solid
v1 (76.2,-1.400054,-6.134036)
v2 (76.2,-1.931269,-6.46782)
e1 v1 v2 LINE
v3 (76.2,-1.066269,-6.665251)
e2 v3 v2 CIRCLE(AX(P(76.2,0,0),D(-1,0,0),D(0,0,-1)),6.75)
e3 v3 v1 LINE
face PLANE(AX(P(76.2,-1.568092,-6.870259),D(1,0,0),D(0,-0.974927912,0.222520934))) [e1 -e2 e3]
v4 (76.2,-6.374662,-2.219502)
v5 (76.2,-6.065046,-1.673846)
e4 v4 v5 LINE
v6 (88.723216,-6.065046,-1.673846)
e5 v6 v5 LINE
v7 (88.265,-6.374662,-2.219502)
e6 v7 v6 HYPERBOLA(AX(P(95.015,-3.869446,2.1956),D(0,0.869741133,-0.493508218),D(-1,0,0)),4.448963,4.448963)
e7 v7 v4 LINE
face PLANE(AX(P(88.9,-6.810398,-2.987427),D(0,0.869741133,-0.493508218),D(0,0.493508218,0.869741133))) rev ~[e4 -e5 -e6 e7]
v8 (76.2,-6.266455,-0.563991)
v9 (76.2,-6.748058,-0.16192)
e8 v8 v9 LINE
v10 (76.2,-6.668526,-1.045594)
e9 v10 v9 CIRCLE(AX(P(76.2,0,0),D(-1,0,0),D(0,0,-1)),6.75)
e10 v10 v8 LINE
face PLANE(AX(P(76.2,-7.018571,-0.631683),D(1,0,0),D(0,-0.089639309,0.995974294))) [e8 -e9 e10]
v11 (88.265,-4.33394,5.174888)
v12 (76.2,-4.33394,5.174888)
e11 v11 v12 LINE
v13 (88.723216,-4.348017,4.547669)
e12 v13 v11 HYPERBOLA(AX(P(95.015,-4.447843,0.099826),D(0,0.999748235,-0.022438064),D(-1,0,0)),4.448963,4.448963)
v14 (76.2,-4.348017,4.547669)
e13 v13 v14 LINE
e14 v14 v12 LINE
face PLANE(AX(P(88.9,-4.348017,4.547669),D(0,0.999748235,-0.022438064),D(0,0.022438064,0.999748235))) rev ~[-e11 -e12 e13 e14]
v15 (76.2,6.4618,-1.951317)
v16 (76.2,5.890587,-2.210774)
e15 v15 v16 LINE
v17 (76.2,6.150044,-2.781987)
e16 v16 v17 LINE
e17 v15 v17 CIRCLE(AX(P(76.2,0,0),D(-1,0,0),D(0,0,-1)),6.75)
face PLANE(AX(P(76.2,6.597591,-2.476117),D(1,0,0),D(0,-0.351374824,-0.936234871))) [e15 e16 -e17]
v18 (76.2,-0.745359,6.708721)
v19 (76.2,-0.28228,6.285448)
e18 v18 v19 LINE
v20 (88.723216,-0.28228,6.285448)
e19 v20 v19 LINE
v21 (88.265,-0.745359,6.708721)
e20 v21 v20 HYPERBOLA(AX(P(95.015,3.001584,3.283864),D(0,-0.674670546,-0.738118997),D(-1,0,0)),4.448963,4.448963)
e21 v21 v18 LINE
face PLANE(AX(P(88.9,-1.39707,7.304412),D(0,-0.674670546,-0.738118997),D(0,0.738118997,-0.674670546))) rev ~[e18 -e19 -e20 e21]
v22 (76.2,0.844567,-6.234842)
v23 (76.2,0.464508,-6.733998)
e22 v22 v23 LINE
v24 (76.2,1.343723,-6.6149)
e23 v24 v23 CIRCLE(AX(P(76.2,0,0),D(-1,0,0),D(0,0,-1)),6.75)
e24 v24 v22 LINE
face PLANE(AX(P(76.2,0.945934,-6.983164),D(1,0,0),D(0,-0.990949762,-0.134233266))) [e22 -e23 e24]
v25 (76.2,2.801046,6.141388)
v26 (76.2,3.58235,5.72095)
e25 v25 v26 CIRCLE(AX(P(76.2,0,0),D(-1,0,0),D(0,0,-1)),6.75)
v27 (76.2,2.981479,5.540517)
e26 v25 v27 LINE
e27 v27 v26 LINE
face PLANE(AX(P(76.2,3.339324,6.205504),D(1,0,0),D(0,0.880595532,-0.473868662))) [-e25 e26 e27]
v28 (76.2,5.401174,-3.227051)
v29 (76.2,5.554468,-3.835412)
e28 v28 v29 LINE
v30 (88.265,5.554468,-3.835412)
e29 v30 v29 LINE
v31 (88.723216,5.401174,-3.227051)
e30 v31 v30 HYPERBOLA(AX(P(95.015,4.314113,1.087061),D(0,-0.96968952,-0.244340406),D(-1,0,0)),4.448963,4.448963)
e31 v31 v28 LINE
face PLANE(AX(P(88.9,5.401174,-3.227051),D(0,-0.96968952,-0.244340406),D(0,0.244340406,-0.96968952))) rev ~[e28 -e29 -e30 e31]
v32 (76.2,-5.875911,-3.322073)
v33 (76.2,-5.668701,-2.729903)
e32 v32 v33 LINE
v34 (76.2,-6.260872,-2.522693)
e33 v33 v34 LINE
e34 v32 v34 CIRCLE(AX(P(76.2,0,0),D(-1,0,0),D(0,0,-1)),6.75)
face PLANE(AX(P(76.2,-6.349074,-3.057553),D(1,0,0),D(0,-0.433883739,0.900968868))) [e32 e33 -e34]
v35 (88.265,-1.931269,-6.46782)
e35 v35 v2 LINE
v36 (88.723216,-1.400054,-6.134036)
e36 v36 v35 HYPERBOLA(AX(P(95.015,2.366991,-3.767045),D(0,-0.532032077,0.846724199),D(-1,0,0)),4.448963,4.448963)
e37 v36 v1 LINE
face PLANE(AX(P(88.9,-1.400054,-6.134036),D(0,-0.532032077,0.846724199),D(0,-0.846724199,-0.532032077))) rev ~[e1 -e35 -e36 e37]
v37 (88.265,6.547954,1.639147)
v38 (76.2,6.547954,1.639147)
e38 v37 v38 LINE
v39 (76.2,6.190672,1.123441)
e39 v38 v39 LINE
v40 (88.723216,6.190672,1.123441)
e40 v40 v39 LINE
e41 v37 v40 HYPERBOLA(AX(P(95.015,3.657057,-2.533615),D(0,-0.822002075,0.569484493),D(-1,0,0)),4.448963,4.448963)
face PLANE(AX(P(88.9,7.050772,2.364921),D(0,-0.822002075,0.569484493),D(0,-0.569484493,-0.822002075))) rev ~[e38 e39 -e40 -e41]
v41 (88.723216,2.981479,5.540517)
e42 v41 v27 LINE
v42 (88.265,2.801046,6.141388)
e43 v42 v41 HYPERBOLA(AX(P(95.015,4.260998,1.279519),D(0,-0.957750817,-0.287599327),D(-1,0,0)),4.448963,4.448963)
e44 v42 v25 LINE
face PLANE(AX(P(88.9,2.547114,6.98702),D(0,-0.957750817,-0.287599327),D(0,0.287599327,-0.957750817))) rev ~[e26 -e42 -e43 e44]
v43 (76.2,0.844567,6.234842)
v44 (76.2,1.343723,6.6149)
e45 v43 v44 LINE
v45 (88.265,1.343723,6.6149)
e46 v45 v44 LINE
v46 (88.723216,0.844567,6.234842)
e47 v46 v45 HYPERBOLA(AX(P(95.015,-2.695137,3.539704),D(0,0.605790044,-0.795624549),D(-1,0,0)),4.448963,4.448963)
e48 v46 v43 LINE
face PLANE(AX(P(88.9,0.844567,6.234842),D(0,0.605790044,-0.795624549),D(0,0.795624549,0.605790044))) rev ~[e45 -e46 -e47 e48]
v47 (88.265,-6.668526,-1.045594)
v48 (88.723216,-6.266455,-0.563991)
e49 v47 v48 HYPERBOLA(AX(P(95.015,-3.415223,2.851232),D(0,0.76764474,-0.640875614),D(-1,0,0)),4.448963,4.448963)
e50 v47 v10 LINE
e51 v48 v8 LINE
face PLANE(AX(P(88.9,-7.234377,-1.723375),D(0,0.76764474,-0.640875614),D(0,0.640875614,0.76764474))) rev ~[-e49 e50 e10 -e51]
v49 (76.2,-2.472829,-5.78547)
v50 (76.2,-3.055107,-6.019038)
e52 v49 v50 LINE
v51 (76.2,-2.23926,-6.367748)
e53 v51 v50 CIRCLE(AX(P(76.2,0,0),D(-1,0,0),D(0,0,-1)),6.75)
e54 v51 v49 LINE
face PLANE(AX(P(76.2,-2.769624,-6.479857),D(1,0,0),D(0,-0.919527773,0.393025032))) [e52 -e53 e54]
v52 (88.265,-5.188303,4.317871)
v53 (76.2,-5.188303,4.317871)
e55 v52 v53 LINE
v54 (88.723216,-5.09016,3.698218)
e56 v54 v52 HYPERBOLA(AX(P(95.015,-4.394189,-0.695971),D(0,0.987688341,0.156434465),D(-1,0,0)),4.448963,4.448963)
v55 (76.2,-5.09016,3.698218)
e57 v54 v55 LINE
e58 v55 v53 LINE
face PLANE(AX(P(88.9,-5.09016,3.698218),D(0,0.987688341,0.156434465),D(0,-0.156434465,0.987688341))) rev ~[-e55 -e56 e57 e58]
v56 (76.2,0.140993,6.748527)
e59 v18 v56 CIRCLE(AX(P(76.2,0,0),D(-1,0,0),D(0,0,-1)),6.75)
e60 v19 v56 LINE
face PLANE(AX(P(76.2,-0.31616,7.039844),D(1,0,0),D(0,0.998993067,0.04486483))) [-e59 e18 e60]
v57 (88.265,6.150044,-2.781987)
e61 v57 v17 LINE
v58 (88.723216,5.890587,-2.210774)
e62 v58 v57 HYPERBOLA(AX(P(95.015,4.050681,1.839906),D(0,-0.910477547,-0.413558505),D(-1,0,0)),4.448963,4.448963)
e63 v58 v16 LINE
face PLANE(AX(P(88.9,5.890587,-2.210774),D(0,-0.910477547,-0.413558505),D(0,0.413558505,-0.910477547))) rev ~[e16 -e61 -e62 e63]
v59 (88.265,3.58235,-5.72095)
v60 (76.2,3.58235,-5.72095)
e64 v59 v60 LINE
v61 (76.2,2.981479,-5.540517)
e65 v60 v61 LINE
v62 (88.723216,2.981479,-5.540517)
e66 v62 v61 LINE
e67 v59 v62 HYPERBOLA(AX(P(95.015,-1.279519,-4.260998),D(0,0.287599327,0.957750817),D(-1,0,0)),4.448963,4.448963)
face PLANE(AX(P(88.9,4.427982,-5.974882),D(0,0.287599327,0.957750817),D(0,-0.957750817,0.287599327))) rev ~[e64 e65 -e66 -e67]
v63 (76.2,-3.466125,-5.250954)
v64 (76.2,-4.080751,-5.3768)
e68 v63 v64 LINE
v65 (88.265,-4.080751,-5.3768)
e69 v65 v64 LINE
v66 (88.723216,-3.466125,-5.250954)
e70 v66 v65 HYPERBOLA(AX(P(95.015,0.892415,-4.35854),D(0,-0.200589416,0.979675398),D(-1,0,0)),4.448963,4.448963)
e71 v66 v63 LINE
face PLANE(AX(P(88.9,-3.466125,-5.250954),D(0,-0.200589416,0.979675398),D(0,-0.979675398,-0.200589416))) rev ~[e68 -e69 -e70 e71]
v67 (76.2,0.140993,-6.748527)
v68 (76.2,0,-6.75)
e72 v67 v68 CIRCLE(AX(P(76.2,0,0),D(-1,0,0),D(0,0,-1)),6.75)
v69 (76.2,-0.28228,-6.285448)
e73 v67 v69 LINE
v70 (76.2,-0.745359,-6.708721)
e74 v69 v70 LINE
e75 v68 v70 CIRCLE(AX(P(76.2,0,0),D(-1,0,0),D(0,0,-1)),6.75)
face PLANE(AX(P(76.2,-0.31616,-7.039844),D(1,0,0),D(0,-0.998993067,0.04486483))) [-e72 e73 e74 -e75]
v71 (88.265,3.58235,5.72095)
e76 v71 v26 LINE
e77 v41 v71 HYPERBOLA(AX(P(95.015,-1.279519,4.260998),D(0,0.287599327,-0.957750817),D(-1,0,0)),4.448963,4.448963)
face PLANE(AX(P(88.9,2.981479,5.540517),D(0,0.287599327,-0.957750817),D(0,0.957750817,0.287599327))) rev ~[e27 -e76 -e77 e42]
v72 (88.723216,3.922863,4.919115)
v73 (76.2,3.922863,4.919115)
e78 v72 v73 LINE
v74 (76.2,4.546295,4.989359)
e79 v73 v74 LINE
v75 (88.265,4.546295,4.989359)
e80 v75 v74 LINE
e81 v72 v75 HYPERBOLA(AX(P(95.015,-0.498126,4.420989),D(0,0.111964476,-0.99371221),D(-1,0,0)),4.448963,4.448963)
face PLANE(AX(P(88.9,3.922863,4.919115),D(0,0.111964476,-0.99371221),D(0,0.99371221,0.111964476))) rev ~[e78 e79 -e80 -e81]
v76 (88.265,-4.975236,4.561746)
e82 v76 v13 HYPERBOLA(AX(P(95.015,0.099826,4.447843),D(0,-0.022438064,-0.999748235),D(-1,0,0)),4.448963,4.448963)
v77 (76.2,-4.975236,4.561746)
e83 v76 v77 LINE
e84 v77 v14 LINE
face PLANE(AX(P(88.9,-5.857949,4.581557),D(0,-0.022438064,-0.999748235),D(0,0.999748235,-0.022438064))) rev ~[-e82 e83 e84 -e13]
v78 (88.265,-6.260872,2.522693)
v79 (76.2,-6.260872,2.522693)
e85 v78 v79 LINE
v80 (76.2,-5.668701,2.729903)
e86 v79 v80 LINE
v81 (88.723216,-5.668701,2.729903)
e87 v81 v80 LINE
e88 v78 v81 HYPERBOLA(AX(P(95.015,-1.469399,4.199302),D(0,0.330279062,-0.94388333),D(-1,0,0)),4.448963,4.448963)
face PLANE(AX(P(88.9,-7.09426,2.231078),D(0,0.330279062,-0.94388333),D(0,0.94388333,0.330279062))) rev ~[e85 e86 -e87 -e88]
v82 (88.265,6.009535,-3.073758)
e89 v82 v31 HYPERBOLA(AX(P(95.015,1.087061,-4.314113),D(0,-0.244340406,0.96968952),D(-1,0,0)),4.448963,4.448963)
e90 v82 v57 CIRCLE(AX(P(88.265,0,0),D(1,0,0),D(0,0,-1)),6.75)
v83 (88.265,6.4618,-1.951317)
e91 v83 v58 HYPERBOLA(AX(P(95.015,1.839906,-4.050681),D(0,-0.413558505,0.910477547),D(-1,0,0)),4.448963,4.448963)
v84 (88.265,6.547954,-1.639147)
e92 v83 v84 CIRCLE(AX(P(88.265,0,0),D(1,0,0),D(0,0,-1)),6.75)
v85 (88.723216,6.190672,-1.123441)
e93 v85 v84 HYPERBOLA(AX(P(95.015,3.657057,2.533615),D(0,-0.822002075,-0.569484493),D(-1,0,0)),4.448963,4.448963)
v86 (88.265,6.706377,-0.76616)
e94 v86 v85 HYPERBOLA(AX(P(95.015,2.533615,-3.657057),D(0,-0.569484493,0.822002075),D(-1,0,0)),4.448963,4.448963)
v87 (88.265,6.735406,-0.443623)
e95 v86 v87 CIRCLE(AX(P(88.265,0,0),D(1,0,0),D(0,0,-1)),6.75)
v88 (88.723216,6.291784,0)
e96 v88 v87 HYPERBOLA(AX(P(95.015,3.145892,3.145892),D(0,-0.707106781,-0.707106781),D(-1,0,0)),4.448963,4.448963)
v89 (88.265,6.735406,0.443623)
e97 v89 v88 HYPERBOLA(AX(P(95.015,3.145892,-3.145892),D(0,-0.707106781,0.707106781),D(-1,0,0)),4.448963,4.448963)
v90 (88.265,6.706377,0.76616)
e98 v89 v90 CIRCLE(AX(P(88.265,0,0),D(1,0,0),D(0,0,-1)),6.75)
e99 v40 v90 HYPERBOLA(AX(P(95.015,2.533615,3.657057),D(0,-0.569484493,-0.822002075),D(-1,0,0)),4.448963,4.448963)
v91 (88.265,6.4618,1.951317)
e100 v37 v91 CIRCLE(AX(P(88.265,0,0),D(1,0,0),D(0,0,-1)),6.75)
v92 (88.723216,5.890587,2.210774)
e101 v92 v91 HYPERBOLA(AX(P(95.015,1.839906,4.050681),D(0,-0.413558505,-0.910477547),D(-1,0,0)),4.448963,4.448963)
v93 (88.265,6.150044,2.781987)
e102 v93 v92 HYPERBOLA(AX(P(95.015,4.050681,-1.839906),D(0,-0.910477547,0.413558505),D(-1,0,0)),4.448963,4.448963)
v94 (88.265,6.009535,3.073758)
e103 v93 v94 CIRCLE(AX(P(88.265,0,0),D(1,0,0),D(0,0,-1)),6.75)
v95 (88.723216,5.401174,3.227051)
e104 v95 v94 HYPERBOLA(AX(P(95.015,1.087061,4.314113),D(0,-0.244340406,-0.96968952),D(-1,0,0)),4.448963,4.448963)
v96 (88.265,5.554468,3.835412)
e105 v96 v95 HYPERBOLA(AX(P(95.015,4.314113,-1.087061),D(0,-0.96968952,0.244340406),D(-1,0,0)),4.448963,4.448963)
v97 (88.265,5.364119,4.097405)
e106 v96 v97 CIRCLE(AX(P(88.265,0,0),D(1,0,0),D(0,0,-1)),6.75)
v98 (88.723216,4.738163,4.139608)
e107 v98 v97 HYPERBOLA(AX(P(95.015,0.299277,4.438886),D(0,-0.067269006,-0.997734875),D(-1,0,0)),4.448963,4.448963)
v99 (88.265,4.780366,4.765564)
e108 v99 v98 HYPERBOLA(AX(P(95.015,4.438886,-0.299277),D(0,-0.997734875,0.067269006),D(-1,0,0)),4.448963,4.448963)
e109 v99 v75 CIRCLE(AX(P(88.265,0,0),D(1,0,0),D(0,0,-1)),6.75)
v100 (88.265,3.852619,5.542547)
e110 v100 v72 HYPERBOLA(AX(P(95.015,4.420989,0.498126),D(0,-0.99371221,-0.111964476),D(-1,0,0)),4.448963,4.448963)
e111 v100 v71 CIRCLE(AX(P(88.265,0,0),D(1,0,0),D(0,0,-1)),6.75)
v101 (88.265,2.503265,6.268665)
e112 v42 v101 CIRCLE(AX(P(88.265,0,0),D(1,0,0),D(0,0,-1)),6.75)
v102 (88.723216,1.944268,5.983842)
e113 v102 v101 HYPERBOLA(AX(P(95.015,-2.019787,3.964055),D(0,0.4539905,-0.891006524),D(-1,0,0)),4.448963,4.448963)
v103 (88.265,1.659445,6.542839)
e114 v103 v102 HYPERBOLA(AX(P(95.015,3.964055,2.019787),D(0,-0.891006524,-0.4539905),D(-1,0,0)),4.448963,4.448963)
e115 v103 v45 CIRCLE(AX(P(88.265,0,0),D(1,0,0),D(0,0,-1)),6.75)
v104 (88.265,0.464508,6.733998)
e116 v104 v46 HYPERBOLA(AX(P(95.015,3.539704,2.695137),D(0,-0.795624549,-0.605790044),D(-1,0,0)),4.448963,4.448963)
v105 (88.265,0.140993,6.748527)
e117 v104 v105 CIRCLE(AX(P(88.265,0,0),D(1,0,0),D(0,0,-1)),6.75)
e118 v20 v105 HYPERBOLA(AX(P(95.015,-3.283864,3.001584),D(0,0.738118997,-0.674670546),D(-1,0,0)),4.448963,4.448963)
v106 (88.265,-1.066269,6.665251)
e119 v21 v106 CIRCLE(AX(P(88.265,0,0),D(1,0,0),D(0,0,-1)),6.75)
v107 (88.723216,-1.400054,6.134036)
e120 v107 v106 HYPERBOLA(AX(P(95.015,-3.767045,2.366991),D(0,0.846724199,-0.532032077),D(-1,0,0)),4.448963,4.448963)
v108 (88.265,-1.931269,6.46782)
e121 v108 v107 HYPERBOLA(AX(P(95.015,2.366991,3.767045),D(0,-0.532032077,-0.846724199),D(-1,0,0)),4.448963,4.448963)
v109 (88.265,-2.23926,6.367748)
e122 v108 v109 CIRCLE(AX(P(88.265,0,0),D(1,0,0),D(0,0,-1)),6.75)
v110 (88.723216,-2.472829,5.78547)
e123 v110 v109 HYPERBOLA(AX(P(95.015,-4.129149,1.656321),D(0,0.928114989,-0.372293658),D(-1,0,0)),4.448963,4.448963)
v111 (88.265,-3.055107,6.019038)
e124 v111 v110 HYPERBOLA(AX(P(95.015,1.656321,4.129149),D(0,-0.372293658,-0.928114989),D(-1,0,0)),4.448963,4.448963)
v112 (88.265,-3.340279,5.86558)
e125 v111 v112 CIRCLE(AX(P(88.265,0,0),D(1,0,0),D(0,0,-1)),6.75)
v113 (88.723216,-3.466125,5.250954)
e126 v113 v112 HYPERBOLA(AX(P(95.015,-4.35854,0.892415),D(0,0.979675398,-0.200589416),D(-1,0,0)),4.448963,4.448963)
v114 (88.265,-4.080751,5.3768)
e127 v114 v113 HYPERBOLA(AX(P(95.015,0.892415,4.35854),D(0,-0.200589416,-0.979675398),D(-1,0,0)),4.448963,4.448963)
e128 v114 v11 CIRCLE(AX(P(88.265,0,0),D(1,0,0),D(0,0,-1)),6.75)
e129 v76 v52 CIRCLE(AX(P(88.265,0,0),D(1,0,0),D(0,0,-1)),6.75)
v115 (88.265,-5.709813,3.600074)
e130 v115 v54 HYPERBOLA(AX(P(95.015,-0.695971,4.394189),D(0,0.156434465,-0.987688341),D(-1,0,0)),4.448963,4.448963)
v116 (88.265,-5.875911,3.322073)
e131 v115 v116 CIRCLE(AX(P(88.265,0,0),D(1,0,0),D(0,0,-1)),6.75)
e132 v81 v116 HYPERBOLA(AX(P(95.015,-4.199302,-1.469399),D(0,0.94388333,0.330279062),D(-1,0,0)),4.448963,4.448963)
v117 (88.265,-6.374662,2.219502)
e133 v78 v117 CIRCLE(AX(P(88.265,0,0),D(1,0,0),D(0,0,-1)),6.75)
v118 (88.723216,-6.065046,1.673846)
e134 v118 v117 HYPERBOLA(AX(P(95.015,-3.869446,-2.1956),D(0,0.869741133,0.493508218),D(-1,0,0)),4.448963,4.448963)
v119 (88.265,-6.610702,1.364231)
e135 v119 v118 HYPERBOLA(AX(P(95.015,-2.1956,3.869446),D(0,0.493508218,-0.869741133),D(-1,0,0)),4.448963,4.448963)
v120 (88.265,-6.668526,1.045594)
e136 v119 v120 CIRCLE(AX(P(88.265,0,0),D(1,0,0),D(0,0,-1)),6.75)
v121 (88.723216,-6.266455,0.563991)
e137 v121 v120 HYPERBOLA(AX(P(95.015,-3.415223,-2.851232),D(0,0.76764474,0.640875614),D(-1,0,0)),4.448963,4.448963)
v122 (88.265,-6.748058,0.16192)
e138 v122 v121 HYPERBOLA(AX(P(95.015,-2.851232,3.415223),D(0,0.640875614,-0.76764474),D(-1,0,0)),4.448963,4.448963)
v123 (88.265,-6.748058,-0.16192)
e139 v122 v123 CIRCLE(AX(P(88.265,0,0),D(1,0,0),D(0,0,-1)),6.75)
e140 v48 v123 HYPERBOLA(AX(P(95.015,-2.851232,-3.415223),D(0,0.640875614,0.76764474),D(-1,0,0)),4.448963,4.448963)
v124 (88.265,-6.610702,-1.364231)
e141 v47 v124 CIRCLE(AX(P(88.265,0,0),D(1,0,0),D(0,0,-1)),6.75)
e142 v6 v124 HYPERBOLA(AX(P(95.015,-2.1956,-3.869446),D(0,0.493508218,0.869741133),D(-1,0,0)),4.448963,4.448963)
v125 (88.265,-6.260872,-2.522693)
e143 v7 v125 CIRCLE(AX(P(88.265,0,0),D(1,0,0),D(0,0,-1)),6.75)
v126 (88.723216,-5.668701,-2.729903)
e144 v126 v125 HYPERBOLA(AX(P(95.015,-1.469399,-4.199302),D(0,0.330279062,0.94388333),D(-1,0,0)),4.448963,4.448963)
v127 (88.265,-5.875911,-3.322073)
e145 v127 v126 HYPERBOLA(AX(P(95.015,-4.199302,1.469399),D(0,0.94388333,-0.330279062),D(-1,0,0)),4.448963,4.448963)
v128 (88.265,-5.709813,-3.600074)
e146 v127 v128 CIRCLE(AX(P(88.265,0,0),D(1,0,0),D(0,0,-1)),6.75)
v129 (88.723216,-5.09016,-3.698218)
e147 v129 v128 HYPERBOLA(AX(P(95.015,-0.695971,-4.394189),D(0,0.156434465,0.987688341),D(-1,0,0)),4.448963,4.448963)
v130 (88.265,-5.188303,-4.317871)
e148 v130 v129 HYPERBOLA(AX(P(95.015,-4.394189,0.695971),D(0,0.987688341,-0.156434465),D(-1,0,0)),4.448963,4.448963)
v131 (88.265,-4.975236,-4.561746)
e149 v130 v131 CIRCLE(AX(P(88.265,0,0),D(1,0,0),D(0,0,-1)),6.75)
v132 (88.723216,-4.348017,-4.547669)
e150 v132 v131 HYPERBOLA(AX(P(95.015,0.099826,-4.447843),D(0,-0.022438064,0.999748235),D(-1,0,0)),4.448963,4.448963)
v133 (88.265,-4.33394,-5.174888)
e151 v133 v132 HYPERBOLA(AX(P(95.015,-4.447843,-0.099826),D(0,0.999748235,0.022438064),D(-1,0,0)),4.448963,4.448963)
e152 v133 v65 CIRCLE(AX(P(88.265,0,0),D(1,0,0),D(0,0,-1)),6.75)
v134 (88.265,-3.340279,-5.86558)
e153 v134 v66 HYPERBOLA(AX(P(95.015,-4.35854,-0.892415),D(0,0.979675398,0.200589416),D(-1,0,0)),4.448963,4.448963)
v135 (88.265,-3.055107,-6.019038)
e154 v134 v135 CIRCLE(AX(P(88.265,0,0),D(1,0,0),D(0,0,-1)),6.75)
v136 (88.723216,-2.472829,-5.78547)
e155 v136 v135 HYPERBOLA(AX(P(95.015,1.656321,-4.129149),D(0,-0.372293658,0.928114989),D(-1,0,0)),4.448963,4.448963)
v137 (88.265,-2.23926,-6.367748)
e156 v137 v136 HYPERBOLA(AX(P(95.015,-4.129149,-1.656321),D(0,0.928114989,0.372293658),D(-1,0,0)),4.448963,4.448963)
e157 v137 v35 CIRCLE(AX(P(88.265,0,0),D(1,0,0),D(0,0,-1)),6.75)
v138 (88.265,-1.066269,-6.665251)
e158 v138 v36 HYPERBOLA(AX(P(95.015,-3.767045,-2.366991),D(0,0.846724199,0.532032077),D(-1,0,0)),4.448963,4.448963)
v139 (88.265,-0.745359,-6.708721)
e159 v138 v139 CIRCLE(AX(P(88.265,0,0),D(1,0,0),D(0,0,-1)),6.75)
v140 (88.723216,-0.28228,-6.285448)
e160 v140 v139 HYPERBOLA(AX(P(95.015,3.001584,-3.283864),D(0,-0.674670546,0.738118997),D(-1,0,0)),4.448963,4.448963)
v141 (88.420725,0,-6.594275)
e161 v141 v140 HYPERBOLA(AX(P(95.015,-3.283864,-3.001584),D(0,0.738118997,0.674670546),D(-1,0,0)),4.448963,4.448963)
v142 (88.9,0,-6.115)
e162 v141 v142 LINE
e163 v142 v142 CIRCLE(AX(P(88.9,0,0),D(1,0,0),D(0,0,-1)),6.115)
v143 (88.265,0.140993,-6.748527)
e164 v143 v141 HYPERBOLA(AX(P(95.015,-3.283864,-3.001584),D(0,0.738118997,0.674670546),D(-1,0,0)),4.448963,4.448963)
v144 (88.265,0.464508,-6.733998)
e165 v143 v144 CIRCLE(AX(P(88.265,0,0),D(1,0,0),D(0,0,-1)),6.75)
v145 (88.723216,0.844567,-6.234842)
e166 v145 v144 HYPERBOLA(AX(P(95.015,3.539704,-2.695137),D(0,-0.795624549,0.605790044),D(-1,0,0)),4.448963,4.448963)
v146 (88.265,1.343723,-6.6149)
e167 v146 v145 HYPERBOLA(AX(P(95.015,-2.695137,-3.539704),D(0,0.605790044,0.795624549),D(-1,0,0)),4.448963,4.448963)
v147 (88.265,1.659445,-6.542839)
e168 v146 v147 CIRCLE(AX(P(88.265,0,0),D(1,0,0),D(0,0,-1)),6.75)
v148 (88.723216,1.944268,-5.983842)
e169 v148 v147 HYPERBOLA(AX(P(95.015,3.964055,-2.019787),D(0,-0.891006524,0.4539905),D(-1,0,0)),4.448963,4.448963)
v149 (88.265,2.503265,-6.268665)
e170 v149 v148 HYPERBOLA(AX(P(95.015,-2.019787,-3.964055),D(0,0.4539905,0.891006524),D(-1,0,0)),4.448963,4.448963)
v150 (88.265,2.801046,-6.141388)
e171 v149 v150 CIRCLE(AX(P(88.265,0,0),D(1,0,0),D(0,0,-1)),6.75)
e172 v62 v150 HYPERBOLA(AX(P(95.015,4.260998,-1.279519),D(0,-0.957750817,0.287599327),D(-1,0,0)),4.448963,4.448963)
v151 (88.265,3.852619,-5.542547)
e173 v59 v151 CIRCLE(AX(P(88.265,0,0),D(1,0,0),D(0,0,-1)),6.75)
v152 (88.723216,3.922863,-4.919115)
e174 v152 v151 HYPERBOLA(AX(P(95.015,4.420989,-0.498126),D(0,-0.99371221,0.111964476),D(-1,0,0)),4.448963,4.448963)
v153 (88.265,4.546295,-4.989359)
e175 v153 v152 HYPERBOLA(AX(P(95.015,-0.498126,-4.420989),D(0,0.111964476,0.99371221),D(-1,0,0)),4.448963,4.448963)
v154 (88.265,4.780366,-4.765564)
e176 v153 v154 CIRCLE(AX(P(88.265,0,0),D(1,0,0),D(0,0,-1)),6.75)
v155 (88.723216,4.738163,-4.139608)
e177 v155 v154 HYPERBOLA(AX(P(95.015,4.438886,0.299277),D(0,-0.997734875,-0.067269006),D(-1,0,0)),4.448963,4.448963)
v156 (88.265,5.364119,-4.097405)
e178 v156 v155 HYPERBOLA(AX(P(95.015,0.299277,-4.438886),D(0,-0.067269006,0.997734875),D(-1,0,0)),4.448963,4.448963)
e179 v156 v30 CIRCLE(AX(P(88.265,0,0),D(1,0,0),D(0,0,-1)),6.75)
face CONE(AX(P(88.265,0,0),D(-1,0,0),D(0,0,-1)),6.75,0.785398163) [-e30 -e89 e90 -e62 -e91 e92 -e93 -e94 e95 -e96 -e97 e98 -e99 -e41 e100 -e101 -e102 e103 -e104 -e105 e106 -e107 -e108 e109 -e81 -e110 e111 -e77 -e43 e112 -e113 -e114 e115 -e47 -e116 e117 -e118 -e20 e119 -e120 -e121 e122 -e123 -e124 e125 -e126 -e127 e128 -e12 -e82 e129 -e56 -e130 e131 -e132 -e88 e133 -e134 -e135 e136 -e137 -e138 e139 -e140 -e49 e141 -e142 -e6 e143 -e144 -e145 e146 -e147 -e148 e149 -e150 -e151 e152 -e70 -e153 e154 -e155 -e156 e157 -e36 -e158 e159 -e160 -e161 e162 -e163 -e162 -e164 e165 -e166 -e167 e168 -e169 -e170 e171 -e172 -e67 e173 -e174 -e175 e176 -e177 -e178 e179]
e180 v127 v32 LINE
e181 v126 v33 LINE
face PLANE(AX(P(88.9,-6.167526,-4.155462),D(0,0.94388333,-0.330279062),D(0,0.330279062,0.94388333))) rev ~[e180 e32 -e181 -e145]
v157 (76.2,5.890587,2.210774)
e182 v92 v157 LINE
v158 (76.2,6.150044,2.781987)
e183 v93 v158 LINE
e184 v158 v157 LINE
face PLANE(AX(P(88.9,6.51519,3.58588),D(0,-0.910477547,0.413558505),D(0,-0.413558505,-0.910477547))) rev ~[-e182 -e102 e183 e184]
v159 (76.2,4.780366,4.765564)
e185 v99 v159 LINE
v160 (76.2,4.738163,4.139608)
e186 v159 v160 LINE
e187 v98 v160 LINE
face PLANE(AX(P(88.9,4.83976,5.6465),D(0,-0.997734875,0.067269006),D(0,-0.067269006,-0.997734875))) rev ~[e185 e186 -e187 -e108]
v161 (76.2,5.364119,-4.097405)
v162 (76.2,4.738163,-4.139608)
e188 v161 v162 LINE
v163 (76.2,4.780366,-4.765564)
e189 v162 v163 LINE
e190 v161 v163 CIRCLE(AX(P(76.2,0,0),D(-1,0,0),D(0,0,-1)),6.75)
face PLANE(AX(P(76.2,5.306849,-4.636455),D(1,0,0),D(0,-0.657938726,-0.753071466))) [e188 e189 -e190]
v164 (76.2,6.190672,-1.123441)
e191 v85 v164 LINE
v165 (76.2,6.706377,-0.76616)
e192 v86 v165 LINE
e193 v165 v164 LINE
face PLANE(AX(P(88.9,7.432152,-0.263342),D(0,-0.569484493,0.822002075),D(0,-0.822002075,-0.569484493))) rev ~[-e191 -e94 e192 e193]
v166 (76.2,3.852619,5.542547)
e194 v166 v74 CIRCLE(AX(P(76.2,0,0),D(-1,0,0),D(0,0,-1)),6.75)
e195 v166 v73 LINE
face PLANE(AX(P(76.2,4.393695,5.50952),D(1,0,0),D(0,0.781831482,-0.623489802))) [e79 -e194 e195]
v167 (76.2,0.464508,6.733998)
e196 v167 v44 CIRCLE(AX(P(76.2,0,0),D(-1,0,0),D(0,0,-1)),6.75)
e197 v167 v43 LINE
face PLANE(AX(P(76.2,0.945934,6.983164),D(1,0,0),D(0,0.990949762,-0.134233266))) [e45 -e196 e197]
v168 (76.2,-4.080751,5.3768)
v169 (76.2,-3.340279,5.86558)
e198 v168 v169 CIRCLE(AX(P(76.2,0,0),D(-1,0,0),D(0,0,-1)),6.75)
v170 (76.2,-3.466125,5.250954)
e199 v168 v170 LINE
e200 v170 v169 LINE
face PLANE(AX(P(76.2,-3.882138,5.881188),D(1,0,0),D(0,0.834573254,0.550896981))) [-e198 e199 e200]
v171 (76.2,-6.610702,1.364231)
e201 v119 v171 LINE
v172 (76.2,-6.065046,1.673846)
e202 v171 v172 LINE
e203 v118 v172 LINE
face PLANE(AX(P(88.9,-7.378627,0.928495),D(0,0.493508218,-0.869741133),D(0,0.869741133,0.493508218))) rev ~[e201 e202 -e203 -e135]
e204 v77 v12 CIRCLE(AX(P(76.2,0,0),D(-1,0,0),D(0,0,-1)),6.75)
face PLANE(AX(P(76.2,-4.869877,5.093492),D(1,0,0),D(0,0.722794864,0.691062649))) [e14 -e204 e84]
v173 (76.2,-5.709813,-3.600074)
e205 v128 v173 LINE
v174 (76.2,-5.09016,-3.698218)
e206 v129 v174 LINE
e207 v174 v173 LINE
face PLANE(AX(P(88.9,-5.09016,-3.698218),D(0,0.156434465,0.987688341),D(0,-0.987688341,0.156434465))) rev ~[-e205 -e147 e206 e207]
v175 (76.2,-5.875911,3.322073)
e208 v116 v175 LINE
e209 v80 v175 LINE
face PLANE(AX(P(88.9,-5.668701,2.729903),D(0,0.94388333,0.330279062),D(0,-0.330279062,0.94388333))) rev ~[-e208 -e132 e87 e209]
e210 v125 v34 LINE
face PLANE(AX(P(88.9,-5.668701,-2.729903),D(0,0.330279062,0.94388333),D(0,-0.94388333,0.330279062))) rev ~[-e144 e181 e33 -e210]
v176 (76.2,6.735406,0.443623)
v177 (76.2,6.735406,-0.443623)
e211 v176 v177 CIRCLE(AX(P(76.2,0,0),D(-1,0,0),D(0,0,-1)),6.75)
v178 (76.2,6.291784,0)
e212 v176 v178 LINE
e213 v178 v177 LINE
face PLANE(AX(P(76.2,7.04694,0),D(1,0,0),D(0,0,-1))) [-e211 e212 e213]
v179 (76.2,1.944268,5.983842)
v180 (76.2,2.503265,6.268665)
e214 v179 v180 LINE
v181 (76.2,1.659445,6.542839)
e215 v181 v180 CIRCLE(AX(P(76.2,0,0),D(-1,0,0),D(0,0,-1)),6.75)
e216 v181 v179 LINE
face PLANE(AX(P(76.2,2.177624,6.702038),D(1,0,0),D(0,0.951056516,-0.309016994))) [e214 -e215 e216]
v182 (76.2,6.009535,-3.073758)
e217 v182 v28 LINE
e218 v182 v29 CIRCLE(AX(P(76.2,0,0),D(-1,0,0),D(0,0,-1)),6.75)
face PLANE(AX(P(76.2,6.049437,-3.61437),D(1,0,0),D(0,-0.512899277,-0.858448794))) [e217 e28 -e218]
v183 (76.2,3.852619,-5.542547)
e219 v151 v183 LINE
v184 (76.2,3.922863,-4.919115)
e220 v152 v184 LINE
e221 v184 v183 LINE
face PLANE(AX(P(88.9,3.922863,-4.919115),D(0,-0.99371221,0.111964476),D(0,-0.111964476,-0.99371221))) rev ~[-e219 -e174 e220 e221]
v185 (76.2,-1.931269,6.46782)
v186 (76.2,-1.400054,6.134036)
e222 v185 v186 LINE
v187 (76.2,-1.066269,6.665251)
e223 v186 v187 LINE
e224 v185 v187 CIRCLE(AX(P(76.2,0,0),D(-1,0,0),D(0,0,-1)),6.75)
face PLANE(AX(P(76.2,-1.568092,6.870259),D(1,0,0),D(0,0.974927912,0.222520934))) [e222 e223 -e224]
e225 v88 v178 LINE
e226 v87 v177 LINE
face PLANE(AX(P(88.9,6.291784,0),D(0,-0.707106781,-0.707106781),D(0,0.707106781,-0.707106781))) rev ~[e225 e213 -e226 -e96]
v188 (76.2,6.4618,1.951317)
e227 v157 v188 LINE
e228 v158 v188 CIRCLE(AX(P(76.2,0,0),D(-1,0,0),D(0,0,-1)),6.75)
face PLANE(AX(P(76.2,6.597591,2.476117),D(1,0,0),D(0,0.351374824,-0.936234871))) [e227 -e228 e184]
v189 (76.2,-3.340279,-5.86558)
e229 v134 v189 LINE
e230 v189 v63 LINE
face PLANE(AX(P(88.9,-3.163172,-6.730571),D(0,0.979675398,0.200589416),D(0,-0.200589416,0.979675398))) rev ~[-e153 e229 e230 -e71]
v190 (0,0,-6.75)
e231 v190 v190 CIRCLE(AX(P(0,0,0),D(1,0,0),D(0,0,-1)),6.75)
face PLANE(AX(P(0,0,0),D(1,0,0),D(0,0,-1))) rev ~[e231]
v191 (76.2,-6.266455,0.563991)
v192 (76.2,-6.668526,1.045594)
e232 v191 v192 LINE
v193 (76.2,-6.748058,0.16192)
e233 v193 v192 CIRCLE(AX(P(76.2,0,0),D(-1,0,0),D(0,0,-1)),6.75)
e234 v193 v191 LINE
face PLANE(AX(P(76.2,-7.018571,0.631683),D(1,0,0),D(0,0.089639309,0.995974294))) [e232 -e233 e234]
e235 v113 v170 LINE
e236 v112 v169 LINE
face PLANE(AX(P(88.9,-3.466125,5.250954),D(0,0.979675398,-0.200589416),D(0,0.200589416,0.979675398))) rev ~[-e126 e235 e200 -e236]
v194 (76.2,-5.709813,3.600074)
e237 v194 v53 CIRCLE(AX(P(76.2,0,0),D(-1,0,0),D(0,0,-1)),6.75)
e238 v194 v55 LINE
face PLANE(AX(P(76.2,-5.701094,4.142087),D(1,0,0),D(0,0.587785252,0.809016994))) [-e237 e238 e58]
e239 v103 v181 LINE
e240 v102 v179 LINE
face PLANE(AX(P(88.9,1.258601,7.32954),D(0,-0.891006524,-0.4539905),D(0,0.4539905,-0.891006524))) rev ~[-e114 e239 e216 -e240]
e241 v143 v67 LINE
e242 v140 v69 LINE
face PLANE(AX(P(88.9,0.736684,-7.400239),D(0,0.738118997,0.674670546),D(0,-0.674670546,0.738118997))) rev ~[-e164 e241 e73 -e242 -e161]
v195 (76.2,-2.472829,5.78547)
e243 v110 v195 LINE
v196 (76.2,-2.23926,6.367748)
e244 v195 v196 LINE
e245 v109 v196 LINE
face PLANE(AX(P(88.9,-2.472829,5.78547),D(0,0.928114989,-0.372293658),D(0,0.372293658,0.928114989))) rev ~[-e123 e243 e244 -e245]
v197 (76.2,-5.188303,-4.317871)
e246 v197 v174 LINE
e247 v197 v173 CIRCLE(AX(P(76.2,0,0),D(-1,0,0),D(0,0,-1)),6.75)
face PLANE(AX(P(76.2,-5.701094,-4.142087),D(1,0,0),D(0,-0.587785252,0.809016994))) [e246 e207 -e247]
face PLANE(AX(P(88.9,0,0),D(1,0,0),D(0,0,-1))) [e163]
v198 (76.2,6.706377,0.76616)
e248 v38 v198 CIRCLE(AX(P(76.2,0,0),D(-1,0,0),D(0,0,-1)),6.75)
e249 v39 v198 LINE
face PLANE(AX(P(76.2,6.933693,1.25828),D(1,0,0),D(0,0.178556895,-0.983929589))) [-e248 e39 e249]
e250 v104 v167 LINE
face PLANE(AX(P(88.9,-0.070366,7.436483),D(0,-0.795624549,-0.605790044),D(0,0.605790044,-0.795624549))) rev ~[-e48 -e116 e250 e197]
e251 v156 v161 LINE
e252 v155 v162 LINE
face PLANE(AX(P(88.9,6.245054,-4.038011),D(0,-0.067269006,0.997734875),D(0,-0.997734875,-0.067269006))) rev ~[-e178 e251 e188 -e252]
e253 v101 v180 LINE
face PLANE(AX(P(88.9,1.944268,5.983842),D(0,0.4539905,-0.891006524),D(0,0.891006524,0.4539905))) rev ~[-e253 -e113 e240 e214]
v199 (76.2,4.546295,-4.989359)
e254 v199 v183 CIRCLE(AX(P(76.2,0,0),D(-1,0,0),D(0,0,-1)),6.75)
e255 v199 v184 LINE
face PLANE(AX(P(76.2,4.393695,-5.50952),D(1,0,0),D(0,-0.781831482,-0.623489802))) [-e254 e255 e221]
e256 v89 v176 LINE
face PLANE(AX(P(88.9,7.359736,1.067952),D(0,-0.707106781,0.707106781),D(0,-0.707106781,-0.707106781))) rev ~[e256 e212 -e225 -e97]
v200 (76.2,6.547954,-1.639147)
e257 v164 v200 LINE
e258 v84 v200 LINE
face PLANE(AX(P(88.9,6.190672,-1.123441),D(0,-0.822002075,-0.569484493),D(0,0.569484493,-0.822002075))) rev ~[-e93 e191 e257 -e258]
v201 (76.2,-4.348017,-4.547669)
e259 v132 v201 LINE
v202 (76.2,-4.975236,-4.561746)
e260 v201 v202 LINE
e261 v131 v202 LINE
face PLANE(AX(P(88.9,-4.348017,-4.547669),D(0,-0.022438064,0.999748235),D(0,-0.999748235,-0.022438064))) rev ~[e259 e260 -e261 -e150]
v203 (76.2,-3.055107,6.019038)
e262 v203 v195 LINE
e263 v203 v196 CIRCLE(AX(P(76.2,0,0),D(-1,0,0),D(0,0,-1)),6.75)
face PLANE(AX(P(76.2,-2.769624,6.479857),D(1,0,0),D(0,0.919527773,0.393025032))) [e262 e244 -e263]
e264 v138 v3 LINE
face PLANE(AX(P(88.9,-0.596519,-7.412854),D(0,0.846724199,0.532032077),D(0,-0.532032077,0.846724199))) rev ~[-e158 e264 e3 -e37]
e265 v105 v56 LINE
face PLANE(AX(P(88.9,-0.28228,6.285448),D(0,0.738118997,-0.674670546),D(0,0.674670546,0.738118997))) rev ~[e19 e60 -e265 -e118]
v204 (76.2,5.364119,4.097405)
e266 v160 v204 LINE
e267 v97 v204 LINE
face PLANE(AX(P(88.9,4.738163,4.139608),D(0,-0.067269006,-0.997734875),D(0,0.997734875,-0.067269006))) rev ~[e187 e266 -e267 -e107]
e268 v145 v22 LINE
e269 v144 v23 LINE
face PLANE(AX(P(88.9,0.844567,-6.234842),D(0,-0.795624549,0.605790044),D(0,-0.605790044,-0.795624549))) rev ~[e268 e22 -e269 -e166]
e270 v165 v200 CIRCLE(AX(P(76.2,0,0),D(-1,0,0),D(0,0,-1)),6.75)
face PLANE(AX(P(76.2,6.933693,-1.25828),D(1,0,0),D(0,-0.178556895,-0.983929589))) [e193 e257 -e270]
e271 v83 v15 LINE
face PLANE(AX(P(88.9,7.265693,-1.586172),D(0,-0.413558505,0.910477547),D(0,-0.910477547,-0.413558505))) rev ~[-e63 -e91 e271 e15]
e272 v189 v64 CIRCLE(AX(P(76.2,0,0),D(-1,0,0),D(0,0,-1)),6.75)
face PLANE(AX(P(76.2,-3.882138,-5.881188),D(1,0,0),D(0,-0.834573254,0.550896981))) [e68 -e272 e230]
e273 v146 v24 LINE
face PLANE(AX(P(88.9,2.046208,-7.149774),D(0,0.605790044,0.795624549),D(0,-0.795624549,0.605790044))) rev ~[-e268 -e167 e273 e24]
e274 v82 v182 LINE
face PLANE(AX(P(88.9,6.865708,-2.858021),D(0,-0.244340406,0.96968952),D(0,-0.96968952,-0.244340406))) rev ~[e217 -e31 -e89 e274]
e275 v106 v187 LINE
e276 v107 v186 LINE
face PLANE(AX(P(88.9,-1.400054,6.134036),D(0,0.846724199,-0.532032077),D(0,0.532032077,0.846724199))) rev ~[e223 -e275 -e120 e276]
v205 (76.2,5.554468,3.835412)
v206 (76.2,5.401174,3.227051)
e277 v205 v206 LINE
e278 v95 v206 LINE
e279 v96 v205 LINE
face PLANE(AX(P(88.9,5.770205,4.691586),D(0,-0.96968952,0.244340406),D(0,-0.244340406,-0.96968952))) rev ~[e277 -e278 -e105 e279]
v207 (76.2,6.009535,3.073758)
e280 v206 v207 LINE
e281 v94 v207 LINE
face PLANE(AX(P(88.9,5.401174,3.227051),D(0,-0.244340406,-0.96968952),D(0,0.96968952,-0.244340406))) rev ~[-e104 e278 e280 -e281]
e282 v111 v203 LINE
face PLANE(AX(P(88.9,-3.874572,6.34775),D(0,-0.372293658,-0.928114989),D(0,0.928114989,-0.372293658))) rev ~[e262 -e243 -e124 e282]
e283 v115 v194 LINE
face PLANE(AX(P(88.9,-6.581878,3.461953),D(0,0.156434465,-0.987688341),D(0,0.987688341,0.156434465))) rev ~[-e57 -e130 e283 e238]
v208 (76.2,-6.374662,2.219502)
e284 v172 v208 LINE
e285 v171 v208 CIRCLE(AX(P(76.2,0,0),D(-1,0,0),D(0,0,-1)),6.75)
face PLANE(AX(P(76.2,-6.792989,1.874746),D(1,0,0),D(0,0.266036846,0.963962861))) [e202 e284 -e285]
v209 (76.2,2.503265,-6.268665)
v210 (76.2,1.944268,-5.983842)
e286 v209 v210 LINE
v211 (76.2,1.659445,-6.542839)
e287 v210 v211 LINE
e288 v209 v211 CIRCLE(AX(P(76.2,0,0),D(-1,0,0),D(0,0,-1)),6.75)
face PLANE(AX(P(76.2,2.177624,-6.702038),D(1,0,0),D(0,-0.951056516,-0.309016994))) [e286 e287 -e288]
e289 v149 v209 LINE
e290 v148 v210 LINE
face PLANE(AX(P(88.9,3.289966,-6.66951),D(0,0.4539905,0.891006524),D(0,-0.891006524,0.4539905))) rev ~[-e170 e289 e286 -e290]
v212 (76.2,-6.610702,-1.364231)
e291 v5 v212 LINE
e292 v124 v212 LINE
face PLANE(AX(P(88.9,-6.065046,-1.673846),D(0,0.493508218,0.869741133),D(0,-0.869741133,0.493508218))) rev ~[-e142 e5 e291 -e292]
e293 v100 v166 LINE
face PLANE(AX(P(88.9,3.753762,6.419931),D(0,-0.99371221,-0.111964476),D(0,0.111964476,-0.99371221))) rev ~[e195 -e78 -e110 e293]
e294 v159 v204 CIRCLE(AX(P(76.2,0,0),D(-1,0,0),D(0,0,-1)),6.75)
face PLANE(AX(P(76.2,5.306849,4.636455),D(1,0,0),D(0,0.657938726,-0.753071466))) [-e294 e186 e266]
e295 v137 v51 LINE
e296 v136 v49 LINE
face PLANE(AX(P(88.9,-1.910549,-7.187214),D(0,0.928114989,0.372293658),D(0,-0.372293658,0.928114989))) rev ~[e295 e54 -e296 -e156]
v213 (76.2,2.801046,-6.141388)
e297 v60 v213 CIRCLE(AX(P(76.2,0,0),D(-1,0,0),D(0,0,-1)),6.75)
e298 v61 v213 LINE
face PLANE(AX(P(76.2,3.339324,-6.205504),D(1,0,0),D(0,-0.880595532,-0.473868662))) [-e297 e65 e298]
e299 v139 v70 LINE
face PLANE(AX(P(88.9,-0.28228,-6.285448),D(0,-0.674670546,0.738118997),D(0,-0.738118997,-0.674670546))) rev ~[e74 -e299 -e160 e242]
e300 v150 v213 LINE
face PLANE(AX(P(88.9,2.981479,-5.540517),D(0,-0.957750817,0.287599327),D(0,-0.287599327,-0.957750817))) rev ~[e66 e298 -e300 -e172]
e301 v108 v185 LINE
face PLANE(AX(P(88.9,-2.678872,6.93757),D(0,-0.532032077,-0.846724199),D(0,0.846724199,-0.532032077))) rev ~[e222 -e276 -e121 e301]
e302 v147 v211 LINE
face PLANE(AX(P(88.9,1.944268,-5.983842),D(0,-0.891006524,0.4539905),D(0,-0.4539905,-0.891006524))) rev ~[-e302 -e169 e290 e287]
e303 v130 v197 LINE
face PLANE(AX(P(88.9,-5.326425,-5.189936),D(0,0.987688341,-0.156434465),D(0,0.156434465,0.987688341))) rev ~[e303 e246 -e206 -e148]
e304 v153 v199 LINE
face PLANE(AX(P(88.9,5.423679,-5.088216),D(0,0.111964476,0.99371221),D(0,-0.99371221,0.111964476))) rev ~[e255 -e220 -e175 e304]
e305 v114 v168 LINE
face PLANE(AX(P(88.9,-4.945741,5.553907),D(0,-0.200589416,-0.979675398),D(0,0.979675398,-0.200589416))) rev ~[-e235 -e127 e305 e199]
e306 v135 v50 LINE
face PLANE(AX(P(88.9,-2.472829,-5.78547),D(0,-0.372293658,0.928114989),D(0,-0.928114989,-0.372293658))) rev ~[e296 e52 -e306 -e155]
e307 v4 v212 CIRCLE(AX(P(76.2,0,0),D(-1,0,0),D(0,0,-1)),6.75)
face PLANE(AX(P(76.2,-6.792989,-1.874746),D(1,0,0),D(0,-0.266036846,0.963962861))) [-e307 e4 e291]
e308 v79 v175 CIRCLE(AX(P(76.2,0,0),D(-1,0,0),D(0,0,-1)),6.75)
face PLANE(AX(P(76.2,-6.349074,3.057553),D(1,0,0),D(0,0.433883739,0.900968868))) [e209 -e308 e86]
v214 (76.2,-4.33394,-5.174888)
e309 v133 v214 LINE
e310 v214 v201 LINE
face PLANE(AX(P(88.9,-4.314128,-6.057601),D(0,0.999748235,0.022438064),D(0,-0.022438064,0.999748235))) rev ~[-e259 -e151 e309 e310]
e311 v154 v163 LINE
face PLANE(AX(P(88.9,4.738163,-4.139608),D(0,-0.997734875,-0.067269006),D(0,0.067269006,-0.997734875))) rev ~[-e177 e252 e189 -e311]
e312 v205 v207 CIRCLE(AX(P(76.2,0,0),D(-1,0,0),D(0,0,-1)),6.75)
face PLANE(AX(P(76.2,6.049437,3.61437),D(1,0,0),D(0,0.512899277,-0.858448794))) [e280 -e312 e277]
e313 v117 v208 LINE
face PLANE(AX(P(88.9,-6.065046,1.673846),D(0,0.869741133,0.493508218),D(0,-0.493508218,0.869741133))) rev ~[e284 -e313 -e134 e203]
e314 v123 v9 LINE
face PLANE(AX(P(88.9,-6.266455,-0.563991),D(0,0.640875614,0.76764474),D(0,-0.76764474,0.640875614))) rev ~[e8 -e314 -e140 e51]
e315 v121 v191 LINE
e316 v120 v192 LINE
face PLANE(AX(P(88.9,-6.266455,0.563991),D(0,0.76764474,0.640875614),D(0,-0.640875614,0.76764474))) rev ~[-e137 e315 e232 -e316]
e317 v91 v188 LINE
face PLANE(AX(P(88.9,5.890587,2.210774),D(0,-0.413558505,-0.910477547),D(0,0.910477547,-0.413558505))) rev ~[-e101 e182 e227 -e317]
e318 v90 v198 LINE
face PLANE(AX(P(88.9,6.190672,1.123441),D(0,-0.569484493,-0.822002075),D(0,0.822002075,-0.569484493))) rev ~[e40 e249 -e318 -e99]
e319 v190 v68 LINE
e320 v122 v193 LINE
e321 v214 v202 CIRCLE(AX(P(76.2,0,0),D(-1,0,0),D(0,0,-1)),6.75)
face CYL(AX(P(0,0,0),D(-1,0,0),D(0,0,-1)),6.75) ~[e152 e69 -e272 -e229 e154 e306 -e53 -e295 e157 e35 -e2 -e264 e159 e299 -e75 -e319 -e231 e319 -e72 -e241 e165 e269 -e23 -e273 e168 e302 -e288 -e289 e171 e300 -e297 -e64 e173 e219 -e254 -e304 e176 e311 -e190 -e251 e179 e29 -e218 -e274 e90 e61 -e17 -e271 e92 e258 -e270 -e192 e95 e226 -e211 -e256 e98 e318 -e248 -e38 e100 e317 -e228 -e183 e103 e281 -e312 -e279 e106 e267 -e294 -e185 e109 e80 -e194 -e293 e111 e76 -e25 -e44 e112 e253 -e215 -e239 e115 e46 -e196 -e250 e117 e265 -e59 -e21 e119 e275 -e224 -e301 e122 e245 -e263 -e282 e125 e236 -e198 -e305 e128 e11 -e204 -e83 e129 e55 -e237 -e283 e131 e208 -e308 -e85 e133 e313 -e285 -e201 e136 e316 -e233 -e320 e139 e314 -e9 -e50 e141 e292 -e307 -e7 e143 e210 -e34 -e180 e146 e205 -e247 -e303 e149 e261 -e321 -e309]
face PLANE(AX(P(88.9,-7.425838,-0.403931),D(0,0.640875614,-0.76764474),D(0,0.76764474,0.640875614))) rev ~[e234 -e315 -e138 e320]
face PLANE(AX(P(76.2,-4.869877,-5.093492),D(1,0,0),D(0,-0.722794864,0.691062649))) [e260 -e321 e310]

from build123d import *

# Parameters (mm, degrees)
SKETCH1_R           = 6.75
BOSS_EXTRUDE1_DEPTH = 88.9
CHAMFER1_SIZE       = 0.635
CUT_EXTRUDE1_DEPTH  = 12.7
CIRPATTERN2_COUNT   = 35


with BuildPart() as part:
    # Sketch1 → Boss-Extrude1 (new body)
    with BuildSketch(Plane(origin=(0, 0, 0), x_dir=(0, 0, -1), z_dir=(1, 0, 0))):
        Circle(SKETCH1_R)
    extrude(amount=BOSS_EXTRUDE1_DEPTH)

    # Chamfer1
    chamfer1_edges = [part.edges().sort_by_distance(p)[0] for p in [
        (88.9, 0, 6.75),
    ]]
    chamfer(chamfer1_edges, length=CHAMFER1_SIZE)

    # Sketch2 → Cut-Extrude1 (cut)
    with BuildSketch(Plane(origin=(88.9, 0, 0), x_dir=(0, 0, -1), z_dir=(1, 0, 0))):
        Polygon((-1.067952277, 7.359736044), (0, 6.291783767), (1.067952277, 7.359736044), align=None)
    cut_extrude1 = extrude(amount=-CUT_EXTRUDE1_DEPTH, mode=Mode.SUBTRACT)

    # CirPattern2: Cut-Extrude1 ×35 about axis
    cirpattern2_axis = Axis((88.9, 0, 0), (-1, 0, 0))
    for i in range(1, CIRPATTERN2_COUNT):
        add(cut_extrude1.rotate(cirpattern2_axis, i * 360 / CIRPATTERN2_COUNT), mode=Mode.SUBTRACT)


solid = part.part
